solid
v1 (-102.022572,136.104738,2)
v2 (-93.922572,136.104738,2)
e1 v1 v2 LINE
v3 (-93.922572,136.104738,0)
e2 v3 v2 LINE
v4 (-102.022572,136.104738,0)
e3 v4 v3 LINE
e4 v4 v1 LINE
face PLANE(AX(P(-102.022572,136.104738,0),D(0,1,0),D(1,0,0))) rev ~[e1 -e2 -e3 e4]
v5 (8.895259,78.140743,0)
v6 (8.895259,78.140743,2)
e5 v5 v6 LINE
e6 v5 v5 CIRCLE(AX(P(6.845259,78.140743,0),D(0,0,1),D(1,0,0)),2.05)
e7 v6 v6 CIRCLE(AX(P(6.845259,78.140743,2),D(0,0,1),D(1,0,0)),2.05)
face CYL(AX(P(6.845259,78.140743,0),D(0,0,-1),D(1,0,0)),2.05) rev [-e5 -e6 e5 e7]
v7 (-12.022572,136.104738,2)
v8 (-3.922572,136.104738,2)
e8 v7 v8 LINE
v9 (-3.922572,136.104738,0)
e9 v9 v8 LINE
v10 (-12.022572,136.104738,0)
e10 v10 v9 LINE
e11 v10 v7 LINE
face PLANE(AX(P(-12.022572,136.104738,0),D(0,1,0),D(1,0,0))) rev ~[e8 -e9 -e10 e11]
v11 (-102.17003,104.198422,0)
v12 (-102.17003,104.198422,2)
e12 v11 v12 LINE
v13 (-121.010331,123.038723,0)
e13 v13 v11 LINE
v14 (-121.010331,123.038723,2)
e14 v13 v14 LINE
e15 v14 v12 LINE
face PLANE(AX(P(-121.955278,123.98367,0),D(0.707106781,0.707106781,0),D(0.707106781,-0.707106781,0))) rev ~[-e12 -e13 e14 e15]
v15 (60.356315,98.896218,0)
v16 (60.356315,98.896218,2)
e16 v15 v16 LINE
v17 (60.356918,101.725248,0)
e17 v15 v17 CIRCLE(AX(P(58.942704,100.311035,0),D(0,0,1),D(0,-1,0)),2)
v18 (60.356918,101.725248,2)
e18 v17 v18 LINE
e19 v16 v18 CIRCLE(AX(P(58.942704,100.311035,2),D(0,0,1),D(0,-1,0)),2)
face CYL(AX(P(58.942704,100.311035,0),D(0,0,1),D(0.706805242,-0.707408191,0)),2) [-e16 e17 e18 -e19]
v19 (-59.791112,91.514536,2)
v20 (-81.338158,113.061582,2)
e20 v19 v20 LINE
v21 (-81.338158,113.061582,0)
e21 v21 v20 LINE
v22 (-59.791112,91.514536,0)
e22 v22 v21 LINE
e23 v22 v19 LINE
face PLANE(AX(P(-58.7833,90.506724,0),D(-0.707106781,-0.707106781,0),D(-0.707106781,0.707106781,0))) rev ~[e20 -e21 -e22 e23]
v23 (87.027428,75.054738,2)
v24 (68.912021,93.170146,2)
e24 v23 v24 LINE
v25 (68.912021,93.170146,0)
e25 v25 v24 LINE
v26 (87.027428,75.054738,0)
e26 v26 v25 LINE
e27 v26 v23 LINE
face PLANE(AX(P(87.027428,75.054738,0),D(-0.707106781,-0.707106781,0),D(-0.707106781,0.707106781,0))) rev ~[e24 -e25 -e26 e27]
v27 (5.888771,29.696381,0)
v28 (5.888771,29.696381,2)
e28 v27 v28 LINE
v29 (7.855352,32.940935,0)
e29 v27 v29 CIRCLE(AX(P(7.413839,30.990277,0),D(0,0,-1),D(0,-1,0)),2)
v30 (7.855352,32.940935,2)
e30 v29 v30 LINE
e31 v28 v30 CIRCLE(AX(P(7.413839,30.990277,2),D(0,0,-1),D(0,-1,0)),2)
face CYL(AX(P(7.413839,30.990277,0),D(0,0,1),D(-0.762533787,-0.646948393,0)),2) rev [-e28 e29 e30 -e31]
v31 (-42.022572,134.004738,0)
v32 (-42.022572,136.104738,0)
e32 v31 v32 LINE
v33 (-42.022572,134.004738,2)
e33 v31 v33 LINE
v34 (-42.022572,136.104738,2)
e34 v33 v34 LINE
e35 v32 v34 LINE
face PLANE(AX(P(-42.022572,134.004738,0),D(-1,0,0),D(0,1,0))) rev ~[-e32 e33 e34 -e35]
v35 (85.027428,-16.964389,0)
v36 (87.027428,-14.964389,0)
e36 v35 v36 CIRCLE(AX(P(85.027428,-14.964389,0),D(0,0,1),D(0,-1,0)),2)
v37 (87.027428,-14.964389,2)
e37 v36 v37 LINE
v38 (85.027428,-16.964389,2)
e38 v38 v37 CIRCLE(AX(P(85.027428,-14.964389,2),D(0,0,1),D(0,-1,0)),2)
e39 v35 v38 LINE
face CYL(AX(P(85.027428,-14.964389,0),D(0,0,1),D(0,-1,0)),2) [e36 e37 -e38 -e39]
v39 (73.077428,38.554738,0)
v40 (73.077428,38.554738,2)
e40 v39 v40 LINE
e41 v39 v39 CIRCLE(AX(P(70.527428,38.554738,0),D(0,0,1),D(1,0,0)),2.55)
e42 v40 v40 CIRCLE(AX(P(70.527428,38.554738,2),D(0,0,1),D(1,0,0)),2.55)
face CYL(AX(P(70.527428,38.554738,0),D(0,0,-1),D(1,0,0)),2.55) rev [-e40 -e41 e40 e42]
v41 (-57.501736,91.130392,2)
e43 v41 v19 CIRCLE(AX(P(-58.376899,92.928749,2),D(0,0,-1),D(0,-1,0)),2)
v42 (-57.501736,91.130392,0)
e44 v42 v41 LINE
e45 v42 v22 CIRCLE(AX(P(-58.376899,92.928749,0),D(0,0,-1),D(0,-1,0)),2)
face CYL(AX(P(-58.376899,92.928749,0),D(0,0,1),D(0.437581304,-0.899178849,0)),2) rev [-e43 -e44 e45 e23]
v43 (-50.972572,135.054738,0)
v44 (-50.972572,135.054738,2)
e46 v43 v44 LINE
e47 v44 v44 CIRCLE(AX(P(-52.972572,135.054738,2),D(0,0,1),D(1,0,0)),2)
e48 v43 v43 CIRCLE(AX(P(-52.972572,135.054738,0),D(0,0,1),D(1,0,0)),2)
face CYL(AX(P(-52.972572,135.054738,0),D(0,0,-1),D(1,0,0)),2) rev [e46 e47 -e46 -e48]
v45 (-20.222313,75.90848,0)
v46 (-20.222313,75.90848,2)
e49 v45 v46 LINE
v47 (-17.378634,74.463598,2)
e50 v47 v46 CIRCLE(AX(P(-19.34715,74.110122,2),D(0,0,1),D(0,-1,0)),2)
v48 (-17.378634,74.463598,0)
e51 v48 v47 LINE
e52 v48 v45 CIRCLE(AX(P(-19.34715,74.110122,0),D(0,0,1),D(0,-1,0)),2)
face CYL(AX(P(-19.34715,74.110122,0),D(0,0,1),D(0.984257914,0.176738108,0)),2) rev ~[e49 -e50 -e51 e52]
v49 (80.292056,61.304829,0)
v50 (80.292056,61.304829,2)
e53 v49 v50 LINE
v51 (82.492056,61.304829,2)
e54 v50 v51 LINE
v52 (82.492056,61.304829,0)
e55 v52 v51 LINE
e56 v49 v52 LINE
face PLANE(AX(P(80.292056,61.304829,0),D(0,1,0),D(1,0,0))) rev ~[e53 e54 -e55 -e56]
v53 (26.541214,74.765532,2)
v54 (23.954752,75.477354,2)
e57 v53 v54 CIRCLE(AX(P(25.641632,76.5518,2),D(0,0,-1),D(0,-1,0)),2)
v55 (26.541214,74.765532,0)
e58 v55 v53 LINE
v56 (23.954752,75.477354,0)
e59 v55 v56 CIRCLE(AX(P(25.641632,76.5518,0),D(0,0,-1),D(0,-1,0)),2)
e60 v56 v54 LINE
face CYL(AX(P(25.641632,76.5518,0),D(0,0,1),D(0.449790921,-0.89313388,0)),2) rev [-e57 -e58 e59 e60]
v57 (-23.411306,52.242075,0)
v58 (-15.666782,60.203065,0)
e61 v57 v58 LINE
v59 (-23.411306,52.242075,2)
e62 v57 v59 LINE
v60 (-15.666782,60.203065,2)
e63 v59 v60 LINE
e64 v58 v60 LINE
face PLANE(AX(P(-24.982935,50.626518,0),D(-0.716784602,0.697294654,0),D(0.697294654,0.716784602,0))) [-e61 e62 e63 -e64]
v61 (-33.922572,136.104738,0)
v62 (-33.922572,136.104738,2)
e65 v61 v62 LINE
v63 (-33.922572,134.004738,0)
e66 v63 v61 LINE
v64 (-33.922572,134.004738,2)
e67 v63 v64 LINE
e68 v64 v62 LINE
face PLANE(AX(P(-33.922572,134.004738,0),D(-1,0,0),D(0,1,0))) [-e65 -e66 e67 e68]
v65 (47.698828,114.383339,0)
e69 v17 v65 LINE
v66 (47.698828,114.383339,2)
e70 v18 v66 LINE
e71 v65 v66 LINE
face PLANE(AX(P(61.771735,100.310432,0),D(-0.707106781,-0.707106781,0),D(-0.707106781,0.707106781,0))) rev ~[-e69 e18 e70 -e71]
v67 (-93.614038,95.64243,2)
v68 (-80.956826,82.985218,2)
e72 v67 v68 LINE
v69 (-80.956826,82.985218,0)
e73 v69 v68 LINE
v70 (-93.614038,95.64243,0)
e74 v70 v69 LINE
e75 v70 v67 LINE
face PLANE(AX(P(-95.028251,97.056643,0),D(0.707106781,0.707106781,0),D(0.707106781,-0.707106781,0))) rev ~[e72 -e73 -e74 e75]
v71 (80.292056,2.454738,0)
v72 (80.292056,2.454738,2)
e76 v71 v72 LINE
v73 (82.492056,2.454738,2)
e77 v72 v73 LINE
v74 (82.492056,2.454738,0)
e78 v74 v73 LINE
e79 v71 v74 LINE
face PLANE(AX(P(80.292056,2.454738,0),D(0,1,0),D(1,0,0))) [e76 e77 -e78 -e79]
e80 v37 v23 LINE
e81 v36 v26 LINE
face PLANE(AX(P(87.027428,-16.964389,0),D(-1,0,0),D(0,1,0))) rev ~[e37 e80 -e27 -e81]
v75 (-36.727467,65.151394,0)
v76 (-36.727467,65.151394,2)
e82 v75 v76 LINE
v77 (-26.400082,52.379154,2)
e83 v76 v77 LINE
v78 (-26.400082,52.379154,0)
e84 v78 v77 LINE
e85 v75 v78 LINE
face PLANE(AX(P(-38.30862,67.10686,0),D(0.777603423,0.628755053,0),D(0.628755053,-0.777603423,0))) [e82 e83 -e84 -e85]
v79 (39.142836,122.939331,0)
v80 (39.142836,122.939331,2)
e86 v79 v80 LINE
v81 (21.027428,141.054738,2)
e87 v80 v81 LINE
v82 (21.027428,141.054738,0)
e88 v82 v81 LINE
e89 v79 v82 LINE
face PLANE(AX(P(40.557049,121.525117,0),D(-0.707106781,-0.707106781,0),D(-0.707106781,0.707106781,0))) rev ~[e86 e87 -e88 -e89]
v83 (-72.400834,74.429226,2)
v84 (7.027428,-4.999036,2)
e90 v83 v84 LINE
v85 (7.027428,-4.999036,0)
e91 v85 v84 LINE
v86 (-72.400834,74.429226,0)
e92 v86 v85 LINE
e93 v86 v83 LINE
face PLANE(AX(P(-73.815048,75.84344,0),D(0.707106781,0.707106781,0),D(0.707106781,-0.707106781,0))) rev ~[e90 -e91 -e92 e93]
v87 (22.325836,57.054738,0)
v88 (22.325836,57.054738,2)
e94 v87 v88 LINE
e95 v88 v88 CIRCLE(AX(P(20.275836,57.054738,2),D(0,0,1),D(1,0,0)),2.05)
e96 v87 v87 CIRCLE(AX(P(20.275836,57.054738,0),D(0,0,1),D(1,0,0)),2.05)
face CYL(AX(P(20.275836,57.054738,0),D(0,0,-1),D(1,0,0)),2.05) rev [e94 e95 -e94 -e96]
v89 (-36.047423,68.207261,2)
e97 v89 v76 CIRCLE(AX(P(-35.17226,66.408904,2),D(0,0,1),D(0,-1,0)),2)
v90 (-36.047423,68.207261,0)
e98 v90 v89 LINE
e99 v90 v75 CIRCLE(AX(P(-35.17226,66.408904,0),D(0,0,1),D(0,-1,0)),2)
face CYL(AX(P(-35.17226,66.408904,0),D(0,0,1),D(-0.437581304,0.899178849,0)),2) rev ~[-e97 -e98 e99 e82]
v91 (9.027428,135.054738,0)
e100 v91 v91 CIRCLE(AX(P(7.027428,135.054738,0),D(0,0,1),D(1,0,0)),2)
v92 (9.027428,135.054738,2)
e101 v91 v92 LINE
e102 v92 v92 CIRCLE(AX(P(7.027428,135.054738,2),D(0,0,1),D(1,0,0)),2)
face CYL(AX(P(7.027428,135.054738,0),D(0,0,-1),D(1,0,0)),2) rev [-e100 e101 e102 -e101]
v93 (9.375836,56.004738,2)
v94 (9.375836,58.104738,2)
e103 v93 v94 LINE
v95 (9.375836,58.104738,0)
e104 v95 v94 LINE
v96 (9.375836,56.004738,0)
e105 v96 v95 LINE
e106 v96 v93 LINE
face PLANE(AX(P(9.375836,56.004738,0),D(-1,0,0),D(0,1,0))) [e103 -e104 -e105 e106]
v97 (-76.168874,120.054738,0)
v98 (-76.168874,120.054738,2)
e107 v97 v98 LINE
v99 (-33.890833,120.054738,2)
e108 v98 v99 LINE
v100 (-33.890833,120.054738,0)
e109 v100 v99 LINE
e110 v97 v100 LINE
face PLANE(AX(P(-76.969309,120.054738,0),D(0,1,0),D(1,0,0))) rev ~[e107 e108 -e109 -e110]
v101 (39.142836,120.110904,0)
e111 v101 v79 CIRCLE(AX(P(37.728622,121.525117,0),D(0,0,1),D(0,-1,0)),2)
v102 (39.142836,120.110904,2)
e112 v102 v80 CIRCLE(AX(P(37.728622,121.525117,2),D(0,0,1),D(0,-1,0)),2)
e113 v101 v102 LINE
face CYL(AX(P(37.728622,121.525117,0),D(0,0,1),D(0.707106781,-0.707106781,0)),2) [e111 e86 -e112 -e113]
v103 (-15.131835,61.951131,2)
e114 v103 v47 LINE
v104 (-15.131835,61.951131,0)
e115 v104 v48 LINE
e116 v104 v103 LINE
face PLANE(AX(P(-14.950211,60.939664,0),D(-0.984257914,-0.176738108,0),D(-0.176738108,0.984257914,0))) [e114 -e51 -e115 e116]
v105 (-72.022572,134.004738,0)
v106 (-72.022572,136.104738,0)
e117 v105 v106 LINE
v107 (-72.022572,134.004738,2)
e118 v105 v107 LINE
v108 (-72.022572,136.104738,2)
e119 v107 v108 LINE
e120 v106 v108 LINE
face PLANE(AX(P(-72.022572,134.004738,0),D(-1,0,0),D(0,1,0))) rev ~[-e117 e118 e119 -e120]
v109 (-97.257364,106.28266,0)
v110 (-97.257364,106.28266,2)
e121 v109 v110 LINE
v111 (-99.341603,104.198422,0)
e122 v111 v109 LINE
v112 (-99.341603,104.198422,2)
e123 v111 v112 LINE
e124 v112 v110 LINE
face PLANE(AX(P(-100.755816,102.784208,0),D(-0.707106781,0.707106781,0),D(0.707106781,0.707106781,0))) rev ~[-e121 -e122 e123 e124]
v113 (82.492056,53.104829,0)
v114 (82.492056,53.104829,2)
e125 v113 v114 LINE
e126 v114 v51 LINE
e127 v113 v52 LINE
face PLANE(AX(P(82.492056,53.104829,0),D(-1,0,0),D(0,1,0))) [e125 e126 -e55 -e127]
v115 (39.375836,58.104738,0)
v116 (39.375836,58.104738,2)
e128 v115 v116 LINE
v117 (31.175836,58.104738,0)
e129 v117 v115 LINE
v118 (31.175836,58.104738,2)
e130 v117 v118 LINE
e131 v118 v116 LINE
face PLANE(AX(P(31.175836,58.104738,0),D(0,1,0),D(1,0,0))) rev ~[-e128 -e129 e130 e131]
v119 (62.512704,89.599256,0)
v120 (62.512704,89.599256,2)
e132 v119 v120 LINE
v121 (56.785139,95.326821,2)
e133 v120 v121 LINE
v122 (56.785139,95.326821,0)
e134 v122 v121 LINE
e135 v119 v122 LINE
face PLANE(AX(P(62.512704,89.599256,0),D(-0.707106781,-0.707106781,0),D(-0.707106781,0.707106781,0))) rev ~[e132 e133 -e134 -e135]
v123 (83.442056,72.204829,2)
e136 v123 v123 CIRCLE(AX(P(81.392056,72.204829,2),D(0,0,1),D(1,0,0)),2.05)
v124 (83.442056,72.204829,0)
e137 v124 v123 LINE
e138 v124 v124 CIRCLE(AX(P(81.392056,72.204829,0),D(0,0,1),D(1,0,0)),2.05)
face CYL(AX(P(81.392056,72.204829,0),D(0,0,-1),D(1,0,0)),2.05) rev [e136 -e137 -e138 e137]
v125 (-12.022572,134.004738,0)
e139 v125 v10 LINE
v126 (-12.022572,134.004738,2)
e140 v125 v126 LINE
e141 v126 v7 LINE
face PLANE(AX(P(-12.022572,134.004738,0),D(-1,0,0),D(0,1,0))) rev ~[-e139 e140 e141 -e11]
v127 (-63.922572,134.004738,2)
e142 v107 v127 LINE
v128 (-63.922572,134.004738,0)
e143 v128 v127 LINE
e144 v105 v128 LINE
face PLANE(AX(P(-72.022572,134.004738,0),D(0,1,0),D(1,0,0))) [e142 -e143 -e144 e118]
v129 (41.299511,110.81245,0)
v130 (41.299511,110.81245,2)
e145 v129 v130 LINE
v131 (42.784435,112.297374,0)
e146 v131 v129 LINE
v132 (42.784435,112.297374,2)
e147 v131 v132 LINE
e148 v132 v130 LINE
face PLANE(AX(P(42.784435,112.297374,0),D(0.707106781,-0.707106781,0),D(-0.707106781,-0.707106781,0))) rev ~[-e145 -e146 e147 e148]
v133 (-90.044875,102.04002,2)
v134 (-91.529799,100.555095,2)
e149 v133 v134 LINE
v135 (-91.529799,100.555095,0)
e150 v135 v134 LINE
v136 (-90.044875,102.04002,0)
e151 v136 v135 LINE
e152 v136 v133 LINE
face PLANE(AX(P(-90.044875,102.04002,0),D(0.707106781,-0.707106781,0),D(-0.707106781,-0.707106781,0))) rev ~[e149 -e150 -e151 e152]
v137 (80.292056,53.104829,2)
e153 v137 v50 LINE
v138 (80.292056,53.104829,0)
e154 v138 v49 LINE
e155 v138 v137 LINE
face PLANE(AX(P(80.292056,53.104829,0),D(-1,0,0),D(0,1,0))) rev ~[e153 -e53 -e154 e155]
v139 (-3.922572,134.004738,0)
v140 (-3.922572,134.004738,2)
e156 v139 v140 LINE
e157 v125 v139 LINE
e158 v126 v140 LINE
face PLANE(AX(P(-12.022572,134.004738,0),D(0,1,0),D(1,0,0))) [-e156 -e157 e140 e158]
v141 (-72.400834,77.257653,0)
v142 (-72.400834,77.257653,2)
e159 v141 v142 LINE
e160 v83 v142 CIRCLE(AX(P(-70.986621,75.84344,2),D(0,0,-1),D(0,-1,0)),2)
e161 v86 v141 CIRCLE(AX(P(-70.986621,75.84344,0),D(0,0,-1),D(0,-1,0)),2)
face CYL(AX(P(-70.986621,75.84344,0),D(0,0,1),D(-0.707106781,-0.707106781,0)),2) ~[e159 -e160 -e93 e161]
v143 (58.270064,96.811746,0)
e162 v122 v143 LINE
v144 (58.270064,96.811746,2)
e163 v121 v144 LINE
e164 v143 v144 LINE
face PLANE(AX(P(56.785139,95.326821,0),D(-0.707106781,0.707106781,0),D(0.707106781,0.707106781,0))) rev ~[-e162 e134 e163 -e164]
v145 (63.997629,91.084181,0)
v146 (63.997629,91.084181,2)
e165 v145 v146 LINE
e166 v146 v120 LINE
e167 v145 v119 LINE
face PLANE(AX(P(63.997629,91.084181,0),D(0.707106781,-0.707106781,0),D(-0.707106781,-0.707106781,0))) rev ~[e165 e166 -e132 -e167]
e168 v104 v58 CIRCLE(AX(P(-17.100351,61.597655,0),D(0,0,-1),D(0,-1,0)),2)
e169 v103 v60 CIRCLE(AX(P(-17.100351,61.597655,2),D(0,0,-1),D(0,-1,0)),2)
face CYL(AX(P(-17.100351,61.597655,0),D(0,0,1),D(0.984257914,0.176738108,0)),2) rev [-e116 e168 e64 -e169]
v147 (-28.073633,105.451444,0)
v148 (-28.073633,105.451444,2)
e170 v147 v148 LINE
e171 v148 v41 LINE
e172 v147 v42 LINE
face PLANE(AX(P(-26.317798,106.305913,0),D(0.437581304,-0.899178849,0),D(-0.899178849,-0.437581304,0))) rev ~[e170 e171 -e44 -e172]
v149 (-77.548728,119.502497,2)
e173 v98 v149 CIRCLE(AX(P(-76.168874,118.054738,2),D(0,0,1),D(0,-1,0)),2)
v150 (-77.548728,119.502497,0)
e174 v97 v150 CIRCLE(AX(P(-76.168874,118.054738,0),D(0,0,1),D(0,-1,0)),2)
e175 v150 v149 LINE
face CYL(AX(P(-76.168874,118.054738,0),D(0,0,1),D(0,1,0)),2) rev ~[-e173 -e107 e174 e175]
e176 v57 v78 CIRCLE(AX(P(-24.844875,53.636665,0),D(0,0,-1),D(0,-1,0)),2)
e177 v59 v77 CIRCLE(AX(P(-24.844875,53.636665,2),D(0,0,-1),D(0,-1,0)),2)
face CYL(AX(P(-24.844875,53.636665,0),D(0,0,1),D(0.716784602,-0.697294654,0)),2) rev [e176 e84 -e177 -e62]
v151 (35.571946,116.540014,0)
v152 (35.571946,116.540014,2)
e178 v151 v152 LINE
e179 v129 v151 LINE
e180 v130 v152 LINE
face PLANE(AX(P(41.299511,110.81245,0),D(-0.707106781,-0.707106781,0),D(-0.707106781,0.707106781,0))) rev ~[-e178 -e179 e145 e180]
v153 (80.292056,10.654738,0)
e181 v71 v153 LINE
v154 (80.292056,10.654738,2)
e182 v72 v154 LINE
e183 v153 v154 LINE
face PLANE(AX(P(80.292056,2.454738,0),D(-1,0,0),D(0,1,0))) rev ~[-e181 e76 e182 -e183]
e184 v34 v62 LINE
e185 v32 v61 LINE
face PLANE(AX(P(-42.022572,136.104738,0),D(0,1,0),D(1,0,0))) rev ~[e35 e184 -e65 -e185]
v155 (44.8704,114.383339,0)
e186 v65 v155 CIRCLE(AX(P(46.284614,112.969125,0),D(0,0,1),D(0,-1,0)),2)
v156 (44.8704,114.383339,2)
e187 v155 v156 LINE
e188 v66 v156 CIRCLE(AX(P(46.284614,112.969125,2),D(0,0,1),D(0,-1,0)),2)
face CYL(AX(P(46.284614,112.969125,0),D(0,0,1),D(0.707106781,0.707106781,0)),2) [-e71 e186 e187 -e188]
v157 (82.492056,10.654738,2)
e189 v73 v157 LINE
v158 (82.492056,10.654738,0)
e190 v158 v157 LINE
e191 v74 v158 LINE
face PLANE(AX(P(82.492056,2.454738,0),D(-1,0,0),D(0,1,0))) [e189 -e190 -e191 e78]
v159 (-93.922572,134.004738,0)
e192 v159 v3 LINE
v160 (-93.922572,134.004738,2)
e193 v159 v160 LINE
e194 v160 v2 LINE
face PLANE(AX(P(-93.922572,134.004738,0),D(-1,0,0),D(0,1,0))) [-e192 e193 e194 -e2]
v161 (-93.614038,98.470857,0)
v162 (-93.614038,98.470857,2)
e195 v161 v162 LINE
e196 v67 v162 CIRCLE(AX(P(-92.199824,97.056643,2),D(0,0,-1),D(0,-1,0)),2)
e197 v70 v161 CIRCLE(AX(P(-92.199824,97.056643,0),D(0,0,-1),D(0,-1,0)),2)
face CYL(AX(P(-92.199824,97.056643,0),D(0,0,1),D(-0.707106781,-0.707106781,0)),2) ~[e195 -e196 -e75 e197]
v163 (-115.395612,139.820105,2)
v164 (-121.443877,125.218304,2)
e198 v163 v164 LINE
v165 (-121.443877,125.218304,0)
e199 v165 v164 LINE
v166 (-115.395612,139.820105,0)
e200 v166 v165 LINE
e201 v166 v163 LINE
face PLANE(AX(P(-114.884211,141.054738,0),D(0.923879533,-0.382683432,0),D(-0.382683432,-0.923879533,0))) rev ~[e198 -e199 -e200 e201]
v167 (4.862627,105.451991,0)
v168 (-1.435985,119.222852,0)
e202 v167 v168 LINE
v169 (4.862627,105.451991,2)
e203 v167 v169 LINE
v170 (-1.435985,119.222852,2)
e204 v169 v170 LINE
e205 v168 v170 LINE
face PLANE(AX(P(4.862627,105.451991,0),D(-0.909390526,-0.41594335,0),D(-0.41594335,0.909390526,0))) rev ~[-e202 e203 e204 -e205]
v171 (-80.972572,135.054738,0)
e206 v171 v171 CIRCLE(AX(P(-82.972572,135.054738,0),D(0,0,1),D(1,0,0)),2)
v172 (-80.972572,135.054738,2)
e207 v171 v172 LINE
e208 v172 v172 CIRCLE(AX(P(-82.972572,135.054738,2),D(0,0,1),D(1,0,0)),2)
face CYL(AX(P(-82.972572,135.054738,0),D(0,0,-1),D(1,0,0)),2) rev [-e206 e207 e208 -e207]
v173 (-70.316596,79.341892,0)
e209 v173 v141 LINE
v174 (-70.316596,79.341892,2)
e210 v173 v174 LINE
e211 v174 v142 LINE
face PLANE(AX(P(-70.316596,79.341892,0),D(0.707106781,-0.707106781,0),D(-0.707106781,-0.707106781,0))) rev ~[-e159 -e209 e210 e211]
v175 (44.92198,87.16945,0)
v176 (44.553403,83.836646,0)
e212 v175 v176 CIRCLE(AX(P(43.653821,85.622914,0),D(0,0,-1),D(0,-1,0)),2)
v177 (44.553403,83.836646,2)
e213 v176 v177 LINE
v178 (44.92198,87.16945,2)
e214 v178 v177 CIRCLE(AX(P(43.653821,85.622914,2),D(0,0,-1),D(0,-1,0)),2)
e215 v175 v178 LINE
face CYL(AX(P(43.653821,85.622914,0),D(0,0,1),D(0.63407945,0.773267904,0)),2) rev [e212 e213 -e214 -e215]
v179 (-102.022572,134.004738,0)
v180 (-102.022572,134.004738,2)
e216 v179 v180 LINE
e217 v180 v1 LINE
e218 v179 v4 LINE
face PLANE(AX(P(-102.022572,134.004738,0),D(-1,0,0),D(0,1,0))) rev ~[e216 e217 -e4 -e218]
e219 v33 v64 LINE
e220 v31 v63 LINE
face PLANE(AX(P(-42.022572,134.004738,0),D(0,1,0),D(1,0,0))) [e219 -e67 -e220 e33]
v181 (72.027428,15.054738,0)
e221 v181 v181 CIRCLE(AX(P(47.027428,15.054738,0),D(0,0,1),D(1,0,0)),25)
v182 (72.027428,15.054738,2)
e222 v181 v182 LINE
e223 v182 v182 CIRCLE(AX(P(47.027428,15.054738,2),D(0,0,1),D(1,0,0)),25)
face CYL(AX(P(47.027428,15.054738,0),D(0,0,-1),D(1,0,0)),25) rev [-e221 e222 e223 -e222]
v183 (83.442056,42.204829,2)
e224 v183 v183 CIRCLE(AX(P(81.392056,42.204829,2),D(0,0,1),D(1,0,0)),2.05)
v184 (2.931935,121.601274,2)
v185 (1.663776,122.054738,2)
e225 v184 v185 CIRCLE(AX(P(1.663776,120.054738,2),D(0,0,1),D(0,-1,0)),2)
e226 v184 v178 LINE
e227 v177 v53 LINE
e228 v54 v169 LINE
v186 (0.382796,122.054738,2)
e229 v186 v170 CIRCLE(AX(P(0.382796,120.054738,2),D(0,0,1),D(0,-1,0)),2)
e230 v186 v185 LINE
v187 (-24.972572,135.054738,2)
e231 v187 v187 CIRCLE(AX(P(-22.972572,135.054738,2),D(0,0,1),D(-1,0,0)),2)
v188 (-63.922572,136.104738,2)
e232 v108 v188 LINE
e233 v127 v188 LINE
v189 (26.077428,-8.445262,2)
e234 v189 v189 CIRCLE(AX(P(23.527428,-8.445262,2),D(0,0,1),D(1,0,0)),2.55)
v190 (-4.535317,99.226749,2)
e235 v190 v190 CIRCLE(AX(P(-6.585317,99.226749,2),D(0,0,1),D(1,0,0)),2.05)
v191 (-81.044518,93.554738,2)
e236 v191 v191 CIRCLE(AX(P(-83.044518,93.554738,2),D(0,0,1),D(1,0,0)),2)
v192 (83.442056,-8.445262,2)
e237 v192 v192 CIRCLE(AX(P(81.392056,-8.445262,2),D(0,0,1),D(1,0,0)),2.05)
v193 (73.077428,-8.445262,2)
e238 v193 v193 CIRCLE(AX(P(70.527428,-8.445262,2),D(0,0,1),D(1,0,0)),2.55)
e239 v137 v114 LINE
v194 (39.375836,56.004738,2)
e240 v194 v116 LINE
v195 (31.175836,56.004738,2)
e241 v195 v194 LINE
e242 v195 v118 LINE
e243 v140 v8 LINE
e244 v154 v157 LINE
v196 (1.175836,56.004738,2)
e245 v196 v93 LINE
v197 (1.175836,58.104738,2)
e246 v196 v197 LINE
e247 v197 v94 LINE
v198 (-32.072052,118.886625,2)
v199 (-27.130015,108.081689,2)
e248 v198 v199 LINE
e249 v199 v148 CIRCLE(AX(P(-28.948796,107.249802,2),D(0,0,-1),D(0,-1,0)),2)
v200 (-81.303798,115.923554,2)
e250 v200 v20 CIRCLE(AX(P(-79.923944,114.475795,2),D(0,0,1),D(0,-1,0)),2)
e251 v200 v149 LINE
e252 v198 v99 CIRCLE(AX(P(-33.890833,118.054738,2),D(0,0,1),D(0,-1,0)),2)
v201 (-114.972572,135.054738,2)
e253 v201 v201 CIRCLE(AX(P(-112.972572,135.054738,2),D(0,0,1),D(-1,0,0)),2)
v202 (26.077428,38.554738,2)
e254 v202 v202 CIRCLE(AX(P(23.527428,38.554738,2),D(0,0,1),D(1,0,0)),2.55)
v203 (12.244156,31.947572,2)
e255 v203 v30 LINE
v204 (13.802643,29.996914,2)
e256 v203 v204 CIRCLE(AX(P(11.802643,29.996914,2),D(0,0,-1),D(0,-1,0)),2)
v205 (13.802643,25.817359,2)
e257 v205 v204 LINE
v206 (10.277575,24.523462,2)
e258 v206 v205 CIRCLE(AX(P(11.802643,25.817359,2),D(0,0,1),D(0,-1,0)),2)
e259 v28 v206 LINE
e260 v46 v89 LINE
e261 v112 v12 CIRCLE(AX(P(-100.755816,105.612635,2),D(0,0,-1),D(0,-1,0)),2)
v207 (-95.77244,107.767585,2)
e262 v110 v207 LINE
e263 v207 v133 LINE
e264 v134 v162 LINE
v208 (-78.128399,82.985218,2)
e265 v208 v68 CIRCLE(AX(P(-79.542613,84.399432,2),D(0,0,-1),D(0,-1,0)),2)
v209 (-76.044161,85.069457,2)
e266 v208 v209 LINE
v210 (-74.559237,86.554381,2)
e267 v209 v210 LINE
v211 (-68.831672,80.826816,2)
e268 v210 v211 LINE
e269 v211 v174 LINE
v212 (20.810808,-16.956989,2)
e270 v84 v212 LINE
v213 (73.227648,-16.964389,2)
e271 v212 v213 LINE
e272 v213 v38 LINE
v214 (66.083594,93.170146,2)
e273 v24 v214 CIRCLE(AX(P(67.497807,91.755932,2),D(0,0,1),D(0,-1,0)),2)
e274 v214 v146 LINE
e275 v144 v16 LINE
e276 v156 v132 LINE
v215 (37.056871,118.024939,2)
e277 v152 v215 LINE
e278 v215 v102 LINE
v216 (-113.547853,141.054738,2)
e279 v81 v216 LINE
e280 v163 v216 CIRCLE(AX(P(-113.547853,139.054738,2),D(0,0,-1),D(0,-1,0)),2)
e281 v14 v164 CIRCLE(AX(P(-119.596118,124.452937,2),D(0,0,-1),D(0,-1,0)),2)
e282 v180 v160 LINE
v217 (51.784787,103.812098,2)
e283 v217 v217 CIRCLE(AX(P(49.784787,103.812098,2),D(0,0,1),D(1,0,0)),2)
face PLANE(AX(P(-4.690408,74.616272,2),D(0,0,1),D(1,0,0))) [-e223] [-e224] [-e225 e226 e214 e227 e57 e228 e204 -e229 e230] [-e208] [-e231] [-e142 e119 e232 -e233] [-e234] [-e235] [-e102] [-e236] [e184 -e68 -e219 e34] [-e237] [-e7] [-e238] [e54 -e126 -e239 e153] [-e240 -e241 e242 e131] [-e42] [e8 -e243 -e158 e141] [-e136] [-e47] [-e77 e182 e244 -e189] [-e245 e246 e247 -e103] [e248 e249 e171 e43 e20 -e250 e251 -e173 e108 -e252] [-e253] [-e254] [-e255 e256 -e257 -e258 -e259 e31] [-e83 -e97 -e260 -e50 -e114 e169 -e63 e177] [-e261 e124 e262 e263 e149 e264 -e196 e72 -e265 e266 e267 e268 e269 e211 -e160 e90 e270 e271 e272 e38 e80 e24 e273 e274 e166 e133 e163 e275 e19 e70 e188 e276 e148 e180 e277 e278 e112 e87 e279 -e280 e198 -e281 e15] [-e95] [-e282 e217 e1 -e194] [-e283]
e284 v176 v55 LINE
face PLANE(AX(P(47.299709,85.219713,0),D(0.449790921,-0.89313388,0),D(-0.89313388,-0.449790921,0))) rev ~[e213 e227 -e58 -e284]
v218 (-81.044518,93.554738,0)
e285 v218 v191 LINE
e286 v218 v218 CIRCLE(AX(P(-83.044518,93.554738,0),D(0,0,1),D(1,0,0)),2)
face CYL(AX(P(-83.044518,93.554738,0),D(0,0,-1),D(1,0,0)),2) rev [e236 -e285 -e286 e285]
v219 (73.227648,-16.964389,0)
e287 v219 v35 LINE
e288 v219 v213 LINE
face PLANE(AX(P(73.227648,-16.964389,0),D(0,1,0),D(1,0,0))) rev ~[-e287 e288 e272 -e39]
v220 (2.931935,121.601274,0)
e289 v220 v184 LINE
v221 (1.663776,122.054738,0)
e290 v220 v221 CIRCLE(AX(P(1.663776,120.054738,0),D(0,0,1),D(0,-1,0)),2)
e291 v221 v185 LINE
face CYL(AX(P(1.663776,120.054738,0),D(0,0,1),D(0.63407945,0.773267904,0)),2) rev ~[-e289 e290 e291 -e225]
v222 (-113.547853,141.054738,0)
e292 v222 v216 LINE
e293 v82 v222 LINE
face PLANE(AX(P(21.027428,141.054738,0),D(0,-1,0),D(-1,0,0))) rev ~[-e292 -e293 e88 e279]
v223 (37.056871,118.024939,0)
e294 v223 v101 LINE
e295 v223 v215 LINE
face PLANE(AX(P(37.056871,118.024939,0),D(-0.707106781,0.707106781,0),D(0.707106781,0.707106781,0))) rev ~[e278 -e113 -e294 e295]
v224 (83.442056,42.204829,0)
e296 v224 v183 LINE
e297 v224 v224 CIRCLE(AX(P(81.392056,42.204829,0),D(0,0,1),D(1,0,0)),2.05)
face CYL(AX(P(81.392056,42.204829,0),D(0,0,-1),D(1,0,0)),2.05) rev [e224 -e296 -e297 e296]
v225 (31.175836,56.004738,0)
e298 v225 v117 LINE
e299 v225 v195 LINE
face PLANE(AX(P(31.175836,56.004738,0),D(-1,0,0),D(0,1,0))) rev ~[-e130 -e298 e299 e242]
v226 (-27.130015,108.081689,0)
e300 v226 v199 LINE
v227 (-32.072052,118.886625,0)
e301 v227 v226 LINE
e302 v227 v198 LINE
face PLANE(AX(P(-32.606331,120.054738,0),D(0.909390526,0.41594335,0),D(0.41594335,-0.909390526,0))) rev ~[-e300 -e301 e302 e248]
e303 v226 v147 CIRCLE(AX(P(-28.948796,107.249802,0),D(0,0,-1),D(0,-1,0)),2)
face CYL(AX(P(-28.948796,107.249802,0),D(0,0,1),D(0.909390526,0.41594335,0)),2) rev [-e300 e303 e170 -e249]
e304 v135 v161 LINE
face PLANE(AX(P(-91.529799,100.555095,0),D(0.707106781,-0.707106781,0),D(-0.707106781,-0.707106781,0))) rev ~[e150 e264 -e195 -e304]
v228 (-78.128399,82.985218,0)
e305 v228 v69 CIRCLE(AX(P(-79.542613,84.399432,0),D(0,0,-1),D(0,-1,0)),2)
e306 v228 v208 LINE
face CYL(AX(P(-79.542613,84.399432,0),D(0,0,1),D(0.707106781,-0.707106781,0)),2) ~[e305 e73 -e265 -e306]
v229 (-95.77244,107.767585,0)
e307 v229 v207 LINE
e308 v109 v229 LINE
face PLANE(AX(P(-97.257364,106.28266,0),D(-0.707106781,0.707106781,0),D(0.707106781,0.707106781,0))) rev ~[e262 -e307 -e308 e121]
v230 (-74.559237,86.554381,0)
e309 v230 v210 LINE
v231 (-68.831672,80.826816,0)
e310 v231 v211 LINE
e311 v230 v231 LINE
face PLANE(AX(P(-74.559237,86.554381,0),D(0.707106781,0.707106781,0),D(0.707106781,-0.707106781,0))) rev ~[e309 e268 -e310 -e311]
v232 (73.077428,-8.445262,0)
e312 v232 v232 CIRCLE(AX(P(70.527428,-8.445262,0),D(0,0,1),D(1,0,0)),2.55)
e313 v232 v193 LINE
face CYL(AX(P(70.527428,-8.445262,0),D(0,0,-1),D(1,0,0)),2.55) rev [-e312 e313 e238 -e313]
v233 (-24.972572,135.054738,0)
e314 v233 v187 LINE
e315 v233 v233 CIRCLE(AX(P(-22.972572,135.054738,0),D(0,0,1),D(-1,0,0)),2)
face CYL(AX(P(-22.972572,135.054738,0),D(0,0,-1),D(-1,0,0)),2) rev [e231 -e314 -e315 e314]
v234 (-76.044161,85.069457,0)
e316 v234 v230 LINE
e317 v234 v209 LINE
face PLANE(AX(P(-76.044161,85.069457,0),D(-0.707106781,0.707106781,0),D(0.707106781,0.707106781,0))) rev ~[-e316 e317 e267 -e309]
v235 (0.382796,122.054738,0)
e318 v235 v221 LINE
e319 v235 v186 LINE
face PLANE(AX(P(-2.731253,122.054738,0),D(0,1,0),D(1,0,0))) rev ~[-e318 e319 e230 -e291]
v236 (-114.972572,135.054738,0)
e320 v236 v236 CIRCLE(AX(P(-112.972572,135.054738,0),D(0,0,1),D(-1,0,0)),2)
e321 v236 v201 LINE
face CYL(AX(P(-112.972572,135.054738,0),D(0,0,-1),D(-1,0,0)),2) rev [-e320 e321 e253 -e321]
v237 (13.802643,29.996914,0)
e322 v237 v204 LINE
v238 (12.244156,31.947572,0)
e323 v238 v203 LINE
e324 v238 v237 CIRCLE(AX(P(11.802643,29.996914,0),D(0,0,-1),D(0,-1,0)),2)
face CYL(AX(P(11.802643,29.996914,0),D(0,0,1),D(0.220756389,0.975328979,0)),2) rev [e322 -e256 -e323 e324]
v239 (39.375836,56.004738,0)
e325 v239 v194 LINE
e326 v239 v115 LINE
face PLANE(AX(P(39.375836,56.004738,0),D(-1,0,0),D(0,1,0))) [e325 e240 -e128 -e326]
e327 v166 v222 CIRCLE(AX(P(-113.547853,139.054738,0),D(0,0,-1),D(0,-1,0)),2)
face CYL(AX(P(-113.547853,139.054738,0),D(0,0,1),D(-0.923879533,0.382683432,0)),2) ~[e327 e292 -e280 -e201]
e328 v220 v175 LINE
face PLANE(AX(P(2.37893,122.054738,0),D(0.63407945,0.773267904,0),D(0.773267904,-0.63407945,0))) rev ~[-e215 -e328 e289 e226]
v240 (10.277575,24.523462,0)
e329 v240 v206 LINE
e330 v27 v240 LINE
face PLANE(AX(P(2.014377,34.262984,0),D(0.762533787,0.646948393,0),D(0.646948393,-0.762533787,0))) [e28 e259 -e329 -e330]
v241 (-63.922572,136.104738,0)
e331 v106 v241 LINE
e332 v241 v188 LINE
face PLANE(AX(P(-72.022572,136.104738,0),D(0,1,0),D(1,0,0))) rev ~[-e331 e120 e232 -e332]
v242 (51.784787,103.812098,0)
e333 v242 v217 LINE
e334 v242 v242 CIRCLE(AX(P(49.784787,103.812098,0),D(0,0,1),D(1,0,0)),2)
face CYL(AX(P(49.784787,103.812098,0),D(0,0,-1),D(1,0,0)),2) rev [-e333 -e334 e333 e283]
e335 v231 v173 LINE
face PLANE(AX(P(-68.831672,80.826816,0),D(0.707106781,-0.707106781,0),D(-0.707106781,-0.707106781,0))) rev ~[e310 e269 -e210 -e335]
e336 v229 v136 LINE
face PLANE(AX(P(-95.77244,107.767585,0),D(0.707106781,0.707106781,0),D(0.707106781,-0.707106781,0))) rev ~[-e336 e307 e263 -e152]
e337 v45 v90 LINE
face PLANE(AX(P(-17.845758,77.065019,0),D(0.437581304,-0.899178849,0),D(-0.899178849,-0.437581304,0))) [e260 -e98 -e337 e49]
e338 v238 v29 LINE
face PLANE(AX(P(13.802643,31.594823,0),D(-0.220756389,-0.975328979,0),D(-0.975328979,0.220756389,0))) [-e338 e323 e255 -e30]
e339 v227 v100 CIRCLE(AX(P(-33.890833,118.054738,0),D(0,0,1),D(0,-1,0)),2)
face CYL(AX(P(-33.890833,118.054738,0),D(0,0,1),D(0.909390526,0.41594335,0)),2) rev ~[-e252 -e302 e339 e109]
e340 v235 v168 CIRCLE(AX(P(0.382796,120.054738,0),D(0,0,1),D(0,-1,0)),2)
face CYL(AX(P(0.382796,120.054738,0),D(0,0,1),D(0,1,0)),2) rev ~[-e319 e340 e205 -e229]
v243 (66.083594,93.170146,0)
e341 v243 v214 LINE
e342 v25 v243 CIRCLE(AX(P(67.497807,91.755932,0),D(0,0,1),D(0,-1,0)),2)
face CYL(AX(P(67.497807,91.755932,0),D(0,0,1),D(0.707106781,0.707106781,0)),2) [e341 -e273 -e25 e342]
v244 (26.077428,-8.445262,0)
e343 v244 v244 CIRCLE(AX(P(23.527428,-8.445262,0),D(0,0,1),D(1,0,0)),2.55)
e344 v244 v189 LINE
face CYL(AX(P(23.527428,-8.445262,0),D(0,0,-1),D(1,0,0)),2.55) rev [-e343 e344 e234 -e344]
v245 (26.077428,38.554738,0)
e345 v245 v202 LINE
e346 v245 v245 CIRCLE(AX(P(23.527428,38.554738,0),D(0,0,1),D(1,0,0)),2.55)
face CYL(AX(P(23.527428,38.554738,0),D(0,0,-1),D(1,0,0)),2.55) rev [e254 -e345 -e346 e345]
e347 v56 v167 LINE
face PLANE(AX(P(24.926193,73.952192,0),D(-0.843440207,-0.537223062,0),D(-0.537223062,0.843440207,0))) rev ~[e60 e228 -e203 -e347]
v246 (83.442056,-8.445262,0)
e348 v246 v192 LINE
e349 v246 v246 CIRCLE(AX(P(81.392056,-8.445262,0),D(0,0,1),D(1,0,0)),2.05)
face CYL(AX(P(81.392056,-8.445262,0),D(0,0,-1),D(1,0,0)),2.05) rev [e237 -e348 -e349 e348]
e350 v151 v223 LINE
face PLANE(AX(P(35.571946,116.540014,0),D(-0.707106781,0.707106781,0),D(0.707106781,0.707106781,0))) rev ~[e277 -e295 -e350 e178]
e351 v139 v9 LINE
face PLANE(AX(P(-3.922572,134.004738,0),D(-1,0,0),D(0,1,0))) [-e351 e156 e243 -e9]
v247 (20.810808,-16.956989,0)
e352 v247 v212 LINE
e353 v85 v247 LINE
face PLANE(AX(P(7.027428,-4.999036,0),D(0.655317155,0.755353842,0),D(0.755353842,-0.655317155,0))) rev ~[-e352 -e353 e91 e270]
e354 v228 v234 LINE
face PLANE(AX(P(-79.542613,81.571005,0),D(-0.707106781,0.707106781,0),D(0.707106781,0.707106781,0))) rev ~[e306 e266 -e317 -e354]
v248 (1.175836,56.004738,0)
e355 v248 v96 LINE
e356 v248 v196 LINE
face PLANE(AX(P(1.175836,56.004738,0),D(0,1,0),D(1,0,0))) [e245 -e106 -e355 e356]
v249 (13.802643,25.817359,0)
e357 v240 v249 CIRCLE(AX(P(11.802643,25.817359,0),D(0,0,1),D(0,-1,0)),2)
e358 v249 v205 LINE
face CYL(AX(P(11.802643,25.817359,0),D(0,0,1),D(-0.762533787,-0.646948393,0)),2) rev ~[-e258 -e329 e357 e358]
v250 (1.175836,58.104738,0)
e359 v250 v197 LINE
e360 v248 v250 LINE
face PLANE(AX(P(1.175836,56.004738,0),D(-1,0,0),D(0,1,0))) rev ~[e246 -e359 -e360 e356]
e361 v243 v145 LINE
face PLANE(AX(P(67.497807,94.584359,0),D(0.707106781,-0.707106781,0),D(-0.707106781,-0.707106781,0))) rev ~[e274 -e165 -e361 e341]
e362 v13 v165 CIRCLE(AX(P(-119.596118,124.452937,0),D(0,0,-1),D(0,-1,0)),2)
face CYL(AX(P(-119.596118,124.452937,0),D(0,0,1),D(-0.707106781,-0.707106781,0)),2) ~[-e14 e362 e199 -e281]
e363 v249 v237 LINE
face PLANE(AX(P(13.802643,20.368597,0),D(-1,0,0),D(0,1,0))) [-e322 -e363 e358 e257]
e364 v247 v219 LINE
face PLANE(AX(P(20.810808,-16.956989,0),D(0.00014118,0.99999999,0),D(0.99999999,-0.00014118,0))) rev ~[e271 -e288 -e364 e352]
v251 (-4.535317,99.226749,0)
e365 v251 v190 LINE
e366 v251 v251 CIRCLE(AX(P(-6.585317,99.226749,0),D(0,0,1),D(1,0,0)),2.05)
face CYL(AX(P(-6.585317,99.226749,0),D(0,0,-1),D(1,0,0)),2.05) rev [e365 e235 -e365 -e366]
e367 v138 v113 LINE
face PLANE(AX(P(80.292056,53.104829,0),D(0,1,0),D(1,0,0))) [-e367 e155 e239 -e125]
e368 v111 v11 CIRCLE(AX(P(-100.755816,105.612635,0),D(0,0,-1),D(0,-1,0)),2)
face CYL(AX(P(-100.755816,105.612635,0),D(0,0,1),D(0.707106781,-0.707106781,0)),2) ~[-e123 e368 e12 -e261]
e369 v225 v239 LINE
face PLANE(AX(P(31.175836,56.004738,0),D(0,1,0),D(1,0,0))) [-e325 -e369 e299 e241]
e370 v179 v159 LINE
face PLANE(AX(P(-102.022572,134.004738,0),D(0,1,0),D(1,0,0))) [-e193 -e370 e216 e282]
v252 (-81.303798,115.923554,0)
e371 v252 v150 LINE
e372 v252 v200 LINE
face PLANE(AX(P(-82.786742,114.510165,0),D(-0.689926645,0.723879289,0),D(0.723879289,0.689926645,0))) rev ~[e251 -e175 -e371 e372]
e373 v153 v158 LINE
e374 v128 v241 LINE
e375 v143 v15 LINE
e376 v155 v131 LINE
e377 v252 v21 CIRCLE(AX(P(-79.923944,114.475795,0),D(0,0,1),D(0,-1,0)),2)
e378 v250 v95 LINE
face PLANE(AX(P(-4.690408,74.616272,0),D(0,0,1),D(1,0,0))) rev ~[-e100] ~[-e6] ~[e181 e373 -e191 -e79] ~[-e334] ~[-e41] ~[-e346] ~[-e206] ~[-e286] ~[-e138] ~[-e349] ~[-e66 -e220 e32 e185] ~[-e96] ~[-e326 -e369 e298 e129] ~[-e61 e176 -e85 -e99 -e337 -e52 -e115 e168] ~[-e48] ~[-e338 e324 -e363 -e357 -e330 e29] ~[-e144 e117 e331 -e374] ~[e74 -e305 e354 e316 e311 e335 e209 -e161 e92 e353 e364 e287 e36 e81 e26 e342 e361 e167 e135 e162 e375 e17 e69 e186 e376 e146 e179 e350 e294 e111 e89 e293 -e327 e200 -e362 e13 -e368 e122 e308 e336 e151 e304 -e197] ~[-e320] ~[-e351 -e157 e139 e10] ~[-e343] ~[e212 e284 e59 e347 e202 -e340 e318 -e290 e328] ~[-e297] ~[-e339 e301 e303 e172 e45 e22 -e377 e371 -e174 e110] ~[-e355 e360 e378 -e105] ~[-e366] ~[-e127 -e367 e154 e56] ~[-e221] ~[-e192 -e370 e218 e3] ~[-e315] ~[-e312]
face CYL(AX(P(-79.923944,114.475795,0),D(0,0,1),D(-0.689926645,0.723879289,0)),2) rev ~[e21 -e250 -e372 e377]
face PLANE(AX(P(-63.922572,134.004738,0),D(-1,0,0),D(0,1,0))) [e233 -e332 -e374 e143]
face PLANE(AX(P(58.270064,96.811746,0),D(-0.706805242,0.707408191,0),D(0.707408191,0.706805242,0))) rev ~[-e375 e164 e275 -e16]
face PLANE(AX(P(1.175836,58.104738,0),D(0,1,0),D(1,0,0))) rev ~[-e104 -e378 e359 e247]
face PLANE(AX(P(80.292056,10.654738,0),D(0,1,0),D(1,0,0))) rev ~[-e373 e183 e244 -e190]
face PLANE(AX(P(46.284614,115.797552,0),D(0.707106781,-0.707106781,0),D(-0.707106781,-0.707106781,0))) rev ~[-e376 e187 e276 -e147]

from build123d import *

# Parameters (mm, degrees)
SKETCH_1_R      = 2
SKETCH_1_R_2    = 25
SKETCH_1_R_3    = 2.05
SKETCH_1_R_4    = 2.55
SKETCH_1_W      = 8.1
SKETCH_1_H      = 2.1
SKETCH_1_W_2    = 8.2
SKETCH_1_W_3    = 2.2
SKETCH_1_H_2    = 8.2
EXTRUDE_1_DEPTH = 2
FILLET_2_R      = 2


with BuildPart() as part:
    # 草图1 → 凸台-拉伸1 (new body)
    with BuildSketch(Plane.XY):
        Polygon((7.027428163, -4.999036262), (20.810808237, -16.956988843), (73.227648339, -16.964389058), (87.027428163, -16.964389058), (87.027428163, 75.054738201), (67.497807203, 94.584359161), (63.997628636, 91.084180595), (62.512704395, 89.599256354), (56.785139468, 95.326821282), (58.270063708, 96.811745522), (61.771734574, 100.31043179), (54.027428163, 108.054738201), (46.284614051, 115.797552313), (42.784435485, 112.297373746), (41.299511244, 110.812449505), (35.571946316, 116.540014433), (37.056870557, 118.024938674), (40.557049124, 121.52511724), (21.027428163, 141.054738201), (-114.884210676, 141.054738201), (-121.955278488, 123.983670389), (-100.755816342, 102.784208243), (-97.257364322, 106.282660262), (-95.772440082, 107.767584503), (-90.044875154, 102.040019575), (-91.529799395, 100.555095335), (-95.028251414, 97.056643315), (-87.28543216, 89.313824061), (-79.542612906, 81.571004807), (-76.044160887, 85.069456827), (-74.559236646, 86.554381067), (-68.831671719, 80.82681614), (-70.316595959, 79.341891899), (-73.815047978, 75.84343988), align=None)
        with Locations((-52.972571837, 135.054738201)):
            Circle(SKETCH_1_R, mode=Mode.SUBTRACT)
        with Locations((47.027428163, 15.054738201)):
            Circle(SKETCH_1_R_2, mode=Mode.SUBTRACT)
        with Locations(Location((-22.972571837, 135.054738201, 0), (0, 0, 180))):
            Circle(SKETCH_1_R, mode=Mode.SUBTRACT)
        with Locations((7.027428163, 135.054738201)):
            Circle(SKETCH_1_R, mode=Mode.SUBTRACT)
        with Locations(Location((-112.972571837, 135.054738201, 0), (0, 0, 180))):
            Circle(SKETCH_1_R, mode=Mode.SUBTRACT)
        with Locations((-82.972571837, 135.054738201)):
            Circle(SKETCH_1_R, mode=Mode.SUBTRACT)
        with Locations((49.784787476, 103.812097514)):
            Circle(SKETCH_1_R, mode=Mode.SUBTRACT)
        with Locations((-83.04451802, 93.554738201)):
            Circle(SKETCH_1_R, mode=Mode.SUBTRACT)
        with Locations((20.275835807, 57.054738201)):
            Circle(SKETCH_1_R_3, mode=Mode.SUBTRACT)
        with Locations((-6.58531727, 99.226748532)):
            Circle(SKETCH_1_R_3, mode=Mode.SUBTRACT)
        with Locations((70.527428163, -8.445261799)):
            Circle(SKETCH_1_R_4, mode=Mode.SUBTRACT)
        with Locations((23.527428163, -8.445261799)):
            Circle(SKETCH_1_R_4, mode=Mode.SUBTRACT)
        with Locations((23.527428163, 38.554738201)):
            Circle(SKETCH_1_R_4, mode=Mode.SUBTRACT)
        with Locations((70.527428163, 38.554738201)):
            Circle(SKETCH_1_R_4, mode=Mode.SUBTRACT)
        with Locations((81.392055944, 72.204829046)):
            Circle(SKETCH_1_R_3, mode=Mode.SUBTRACT)
        with Locations((81.392055944, -8.445261799)):
            Circle(SKETCH_1_R_3, mode=Mode.SUBTRACT)
        with Locations((81.392055944, 42.204829046)):
            Circle(SKETCH_1_R_3, mode=Mode.SUBTRACT)
        with Locations((6.845259268, 78.140743367)):
            Circle(SKETCH_1_R_3, mode=Mode.SUBTRACT)
        with Locations((-37.972571837, 135.054738201)):
            Rectangle(SKETCH_1_W, SKETCH_1_H, mode=Mode.SUBTRACT)
        with Locations((-7.972571837, 135.054738201)):
            Rectangle(SKETCH_1_W, SKETCH_1_H, mode=Mode.SUBTRACT)
        with Locations((-97.972571837, 135.054738201)):
            Rectangle(SKETCH_1_W, SKETCH_1_H, mode=Mode.SUBTRACT)
        with Locations((-67.972571837, 135.054738201)):
            Rectangle(SKETCH_1_W, SKETCH_1_H, mode=Mode.SUBTRACT)
        with Locations((5.275835807, 57.054738201)):
            Rectangle(SKETCH_1_W_2, SKETCH_1_H, mode=Mode.SUBTRACT)
        with Locations((35.275835807, 57.054738201)):
            Rectangle(SKETCH_1_W_2, SKETCH_1_H, mode=Mode.SUBTRACT)
        Polygon((-26.317798475, 106.3059132), (-58.783300448, 90.506724064), (-82.786741677, 114.510165293), (-76.96930946, 120.054738201), (-32.606331473, 120.054738201), align=None, mode=Mode.SUBTRACT)
        Polygon((47.299709176, 85.219712632), (24.92619293, 73.952191934), (4.862626833, 105.451990707), (-2.731253041, 122.054738201), (2.37892986, 122.054738201), align=None, mode=Mode.SUBTRACT)
        Polygon((-14.950211349, 60.939664471), (-17.845757969, 77.065019133), (-38.30861977, 67.106860342), (-24.982934729, 50.626518371), align=None, mode=Mode.SUBTRACT)
        Polygon((2.01437662, 34.262984309), (13.802642778, 20.368597473), (13.802642778, 31.594822975), align=None, mode=Mode.SUBTRACT)
        with Locations((81.392055944, 57.204829046)):
            Rectangle(SKETCH_1_W_3, SKETCH_1_H_2, mode=Mode.SUBTRACT)
        with Locations((81.392055944, 6.554738201)):
            Rectangle(SKETCH_1_W_3, SKETCH_1_H_2, mode=Mode.SUBTRACT)
    extrude(amount=EXTRUDE_1_DEPTH)

    # 圆角2
    fillet_2_edges = [part.edges().sort_by_distance(p)[0] for p in [
        (-26.317798475, 106.3059132, 1),
        (-32.606331473, 120.054738201, 1),
        (-76.96930946, 120.054738201, 1),
        (-82.786741677, 114.510165293, 1),
        (-58.783300448, 90.506724064, 1),
        (47.299709176, 85.219712632, 1),
        (2.37892986, 122.054738201, 1),
        (-2.731253041, 122.054738201, 1),
        (24.92619293, 73.952191934, 1),
        (-24.982934729, 50.626518371, 1),
        (-14.950211349, 60.939664471, 1),
        (-17.845757969, 77.065019133, 1),
        (-38.30861977, 67.106860342, 1),
        (13.802642778, 31.594822975, 1),
        (2.01437662, 34.262984309, 1),
        (13.802642778, 20.368597473, 1),
        (40.557049124, 121.52511724, 1),
        (46.284614051, 115.797552313, 1),
        (61.771734574, 100.31043179, 1),
        (67.497807203, 94.584359161, 1),
        (87.027428163, -16.964389058, 1),
        (-73.815047978, 75.84343988, 1),
        (-79.542612906, 81.571004807, 1),
        (-95.028251414, 97.056643315, 1),
        (-100.755816342, 102.784208243, 1),
        (-121.955278488, 123.983670389, 1),
        (-114.884210676, 141.054738201, 1),
    ]]
    fillet(fillet_2_edges, radius=FILLET_2_R)


solid = part.part
